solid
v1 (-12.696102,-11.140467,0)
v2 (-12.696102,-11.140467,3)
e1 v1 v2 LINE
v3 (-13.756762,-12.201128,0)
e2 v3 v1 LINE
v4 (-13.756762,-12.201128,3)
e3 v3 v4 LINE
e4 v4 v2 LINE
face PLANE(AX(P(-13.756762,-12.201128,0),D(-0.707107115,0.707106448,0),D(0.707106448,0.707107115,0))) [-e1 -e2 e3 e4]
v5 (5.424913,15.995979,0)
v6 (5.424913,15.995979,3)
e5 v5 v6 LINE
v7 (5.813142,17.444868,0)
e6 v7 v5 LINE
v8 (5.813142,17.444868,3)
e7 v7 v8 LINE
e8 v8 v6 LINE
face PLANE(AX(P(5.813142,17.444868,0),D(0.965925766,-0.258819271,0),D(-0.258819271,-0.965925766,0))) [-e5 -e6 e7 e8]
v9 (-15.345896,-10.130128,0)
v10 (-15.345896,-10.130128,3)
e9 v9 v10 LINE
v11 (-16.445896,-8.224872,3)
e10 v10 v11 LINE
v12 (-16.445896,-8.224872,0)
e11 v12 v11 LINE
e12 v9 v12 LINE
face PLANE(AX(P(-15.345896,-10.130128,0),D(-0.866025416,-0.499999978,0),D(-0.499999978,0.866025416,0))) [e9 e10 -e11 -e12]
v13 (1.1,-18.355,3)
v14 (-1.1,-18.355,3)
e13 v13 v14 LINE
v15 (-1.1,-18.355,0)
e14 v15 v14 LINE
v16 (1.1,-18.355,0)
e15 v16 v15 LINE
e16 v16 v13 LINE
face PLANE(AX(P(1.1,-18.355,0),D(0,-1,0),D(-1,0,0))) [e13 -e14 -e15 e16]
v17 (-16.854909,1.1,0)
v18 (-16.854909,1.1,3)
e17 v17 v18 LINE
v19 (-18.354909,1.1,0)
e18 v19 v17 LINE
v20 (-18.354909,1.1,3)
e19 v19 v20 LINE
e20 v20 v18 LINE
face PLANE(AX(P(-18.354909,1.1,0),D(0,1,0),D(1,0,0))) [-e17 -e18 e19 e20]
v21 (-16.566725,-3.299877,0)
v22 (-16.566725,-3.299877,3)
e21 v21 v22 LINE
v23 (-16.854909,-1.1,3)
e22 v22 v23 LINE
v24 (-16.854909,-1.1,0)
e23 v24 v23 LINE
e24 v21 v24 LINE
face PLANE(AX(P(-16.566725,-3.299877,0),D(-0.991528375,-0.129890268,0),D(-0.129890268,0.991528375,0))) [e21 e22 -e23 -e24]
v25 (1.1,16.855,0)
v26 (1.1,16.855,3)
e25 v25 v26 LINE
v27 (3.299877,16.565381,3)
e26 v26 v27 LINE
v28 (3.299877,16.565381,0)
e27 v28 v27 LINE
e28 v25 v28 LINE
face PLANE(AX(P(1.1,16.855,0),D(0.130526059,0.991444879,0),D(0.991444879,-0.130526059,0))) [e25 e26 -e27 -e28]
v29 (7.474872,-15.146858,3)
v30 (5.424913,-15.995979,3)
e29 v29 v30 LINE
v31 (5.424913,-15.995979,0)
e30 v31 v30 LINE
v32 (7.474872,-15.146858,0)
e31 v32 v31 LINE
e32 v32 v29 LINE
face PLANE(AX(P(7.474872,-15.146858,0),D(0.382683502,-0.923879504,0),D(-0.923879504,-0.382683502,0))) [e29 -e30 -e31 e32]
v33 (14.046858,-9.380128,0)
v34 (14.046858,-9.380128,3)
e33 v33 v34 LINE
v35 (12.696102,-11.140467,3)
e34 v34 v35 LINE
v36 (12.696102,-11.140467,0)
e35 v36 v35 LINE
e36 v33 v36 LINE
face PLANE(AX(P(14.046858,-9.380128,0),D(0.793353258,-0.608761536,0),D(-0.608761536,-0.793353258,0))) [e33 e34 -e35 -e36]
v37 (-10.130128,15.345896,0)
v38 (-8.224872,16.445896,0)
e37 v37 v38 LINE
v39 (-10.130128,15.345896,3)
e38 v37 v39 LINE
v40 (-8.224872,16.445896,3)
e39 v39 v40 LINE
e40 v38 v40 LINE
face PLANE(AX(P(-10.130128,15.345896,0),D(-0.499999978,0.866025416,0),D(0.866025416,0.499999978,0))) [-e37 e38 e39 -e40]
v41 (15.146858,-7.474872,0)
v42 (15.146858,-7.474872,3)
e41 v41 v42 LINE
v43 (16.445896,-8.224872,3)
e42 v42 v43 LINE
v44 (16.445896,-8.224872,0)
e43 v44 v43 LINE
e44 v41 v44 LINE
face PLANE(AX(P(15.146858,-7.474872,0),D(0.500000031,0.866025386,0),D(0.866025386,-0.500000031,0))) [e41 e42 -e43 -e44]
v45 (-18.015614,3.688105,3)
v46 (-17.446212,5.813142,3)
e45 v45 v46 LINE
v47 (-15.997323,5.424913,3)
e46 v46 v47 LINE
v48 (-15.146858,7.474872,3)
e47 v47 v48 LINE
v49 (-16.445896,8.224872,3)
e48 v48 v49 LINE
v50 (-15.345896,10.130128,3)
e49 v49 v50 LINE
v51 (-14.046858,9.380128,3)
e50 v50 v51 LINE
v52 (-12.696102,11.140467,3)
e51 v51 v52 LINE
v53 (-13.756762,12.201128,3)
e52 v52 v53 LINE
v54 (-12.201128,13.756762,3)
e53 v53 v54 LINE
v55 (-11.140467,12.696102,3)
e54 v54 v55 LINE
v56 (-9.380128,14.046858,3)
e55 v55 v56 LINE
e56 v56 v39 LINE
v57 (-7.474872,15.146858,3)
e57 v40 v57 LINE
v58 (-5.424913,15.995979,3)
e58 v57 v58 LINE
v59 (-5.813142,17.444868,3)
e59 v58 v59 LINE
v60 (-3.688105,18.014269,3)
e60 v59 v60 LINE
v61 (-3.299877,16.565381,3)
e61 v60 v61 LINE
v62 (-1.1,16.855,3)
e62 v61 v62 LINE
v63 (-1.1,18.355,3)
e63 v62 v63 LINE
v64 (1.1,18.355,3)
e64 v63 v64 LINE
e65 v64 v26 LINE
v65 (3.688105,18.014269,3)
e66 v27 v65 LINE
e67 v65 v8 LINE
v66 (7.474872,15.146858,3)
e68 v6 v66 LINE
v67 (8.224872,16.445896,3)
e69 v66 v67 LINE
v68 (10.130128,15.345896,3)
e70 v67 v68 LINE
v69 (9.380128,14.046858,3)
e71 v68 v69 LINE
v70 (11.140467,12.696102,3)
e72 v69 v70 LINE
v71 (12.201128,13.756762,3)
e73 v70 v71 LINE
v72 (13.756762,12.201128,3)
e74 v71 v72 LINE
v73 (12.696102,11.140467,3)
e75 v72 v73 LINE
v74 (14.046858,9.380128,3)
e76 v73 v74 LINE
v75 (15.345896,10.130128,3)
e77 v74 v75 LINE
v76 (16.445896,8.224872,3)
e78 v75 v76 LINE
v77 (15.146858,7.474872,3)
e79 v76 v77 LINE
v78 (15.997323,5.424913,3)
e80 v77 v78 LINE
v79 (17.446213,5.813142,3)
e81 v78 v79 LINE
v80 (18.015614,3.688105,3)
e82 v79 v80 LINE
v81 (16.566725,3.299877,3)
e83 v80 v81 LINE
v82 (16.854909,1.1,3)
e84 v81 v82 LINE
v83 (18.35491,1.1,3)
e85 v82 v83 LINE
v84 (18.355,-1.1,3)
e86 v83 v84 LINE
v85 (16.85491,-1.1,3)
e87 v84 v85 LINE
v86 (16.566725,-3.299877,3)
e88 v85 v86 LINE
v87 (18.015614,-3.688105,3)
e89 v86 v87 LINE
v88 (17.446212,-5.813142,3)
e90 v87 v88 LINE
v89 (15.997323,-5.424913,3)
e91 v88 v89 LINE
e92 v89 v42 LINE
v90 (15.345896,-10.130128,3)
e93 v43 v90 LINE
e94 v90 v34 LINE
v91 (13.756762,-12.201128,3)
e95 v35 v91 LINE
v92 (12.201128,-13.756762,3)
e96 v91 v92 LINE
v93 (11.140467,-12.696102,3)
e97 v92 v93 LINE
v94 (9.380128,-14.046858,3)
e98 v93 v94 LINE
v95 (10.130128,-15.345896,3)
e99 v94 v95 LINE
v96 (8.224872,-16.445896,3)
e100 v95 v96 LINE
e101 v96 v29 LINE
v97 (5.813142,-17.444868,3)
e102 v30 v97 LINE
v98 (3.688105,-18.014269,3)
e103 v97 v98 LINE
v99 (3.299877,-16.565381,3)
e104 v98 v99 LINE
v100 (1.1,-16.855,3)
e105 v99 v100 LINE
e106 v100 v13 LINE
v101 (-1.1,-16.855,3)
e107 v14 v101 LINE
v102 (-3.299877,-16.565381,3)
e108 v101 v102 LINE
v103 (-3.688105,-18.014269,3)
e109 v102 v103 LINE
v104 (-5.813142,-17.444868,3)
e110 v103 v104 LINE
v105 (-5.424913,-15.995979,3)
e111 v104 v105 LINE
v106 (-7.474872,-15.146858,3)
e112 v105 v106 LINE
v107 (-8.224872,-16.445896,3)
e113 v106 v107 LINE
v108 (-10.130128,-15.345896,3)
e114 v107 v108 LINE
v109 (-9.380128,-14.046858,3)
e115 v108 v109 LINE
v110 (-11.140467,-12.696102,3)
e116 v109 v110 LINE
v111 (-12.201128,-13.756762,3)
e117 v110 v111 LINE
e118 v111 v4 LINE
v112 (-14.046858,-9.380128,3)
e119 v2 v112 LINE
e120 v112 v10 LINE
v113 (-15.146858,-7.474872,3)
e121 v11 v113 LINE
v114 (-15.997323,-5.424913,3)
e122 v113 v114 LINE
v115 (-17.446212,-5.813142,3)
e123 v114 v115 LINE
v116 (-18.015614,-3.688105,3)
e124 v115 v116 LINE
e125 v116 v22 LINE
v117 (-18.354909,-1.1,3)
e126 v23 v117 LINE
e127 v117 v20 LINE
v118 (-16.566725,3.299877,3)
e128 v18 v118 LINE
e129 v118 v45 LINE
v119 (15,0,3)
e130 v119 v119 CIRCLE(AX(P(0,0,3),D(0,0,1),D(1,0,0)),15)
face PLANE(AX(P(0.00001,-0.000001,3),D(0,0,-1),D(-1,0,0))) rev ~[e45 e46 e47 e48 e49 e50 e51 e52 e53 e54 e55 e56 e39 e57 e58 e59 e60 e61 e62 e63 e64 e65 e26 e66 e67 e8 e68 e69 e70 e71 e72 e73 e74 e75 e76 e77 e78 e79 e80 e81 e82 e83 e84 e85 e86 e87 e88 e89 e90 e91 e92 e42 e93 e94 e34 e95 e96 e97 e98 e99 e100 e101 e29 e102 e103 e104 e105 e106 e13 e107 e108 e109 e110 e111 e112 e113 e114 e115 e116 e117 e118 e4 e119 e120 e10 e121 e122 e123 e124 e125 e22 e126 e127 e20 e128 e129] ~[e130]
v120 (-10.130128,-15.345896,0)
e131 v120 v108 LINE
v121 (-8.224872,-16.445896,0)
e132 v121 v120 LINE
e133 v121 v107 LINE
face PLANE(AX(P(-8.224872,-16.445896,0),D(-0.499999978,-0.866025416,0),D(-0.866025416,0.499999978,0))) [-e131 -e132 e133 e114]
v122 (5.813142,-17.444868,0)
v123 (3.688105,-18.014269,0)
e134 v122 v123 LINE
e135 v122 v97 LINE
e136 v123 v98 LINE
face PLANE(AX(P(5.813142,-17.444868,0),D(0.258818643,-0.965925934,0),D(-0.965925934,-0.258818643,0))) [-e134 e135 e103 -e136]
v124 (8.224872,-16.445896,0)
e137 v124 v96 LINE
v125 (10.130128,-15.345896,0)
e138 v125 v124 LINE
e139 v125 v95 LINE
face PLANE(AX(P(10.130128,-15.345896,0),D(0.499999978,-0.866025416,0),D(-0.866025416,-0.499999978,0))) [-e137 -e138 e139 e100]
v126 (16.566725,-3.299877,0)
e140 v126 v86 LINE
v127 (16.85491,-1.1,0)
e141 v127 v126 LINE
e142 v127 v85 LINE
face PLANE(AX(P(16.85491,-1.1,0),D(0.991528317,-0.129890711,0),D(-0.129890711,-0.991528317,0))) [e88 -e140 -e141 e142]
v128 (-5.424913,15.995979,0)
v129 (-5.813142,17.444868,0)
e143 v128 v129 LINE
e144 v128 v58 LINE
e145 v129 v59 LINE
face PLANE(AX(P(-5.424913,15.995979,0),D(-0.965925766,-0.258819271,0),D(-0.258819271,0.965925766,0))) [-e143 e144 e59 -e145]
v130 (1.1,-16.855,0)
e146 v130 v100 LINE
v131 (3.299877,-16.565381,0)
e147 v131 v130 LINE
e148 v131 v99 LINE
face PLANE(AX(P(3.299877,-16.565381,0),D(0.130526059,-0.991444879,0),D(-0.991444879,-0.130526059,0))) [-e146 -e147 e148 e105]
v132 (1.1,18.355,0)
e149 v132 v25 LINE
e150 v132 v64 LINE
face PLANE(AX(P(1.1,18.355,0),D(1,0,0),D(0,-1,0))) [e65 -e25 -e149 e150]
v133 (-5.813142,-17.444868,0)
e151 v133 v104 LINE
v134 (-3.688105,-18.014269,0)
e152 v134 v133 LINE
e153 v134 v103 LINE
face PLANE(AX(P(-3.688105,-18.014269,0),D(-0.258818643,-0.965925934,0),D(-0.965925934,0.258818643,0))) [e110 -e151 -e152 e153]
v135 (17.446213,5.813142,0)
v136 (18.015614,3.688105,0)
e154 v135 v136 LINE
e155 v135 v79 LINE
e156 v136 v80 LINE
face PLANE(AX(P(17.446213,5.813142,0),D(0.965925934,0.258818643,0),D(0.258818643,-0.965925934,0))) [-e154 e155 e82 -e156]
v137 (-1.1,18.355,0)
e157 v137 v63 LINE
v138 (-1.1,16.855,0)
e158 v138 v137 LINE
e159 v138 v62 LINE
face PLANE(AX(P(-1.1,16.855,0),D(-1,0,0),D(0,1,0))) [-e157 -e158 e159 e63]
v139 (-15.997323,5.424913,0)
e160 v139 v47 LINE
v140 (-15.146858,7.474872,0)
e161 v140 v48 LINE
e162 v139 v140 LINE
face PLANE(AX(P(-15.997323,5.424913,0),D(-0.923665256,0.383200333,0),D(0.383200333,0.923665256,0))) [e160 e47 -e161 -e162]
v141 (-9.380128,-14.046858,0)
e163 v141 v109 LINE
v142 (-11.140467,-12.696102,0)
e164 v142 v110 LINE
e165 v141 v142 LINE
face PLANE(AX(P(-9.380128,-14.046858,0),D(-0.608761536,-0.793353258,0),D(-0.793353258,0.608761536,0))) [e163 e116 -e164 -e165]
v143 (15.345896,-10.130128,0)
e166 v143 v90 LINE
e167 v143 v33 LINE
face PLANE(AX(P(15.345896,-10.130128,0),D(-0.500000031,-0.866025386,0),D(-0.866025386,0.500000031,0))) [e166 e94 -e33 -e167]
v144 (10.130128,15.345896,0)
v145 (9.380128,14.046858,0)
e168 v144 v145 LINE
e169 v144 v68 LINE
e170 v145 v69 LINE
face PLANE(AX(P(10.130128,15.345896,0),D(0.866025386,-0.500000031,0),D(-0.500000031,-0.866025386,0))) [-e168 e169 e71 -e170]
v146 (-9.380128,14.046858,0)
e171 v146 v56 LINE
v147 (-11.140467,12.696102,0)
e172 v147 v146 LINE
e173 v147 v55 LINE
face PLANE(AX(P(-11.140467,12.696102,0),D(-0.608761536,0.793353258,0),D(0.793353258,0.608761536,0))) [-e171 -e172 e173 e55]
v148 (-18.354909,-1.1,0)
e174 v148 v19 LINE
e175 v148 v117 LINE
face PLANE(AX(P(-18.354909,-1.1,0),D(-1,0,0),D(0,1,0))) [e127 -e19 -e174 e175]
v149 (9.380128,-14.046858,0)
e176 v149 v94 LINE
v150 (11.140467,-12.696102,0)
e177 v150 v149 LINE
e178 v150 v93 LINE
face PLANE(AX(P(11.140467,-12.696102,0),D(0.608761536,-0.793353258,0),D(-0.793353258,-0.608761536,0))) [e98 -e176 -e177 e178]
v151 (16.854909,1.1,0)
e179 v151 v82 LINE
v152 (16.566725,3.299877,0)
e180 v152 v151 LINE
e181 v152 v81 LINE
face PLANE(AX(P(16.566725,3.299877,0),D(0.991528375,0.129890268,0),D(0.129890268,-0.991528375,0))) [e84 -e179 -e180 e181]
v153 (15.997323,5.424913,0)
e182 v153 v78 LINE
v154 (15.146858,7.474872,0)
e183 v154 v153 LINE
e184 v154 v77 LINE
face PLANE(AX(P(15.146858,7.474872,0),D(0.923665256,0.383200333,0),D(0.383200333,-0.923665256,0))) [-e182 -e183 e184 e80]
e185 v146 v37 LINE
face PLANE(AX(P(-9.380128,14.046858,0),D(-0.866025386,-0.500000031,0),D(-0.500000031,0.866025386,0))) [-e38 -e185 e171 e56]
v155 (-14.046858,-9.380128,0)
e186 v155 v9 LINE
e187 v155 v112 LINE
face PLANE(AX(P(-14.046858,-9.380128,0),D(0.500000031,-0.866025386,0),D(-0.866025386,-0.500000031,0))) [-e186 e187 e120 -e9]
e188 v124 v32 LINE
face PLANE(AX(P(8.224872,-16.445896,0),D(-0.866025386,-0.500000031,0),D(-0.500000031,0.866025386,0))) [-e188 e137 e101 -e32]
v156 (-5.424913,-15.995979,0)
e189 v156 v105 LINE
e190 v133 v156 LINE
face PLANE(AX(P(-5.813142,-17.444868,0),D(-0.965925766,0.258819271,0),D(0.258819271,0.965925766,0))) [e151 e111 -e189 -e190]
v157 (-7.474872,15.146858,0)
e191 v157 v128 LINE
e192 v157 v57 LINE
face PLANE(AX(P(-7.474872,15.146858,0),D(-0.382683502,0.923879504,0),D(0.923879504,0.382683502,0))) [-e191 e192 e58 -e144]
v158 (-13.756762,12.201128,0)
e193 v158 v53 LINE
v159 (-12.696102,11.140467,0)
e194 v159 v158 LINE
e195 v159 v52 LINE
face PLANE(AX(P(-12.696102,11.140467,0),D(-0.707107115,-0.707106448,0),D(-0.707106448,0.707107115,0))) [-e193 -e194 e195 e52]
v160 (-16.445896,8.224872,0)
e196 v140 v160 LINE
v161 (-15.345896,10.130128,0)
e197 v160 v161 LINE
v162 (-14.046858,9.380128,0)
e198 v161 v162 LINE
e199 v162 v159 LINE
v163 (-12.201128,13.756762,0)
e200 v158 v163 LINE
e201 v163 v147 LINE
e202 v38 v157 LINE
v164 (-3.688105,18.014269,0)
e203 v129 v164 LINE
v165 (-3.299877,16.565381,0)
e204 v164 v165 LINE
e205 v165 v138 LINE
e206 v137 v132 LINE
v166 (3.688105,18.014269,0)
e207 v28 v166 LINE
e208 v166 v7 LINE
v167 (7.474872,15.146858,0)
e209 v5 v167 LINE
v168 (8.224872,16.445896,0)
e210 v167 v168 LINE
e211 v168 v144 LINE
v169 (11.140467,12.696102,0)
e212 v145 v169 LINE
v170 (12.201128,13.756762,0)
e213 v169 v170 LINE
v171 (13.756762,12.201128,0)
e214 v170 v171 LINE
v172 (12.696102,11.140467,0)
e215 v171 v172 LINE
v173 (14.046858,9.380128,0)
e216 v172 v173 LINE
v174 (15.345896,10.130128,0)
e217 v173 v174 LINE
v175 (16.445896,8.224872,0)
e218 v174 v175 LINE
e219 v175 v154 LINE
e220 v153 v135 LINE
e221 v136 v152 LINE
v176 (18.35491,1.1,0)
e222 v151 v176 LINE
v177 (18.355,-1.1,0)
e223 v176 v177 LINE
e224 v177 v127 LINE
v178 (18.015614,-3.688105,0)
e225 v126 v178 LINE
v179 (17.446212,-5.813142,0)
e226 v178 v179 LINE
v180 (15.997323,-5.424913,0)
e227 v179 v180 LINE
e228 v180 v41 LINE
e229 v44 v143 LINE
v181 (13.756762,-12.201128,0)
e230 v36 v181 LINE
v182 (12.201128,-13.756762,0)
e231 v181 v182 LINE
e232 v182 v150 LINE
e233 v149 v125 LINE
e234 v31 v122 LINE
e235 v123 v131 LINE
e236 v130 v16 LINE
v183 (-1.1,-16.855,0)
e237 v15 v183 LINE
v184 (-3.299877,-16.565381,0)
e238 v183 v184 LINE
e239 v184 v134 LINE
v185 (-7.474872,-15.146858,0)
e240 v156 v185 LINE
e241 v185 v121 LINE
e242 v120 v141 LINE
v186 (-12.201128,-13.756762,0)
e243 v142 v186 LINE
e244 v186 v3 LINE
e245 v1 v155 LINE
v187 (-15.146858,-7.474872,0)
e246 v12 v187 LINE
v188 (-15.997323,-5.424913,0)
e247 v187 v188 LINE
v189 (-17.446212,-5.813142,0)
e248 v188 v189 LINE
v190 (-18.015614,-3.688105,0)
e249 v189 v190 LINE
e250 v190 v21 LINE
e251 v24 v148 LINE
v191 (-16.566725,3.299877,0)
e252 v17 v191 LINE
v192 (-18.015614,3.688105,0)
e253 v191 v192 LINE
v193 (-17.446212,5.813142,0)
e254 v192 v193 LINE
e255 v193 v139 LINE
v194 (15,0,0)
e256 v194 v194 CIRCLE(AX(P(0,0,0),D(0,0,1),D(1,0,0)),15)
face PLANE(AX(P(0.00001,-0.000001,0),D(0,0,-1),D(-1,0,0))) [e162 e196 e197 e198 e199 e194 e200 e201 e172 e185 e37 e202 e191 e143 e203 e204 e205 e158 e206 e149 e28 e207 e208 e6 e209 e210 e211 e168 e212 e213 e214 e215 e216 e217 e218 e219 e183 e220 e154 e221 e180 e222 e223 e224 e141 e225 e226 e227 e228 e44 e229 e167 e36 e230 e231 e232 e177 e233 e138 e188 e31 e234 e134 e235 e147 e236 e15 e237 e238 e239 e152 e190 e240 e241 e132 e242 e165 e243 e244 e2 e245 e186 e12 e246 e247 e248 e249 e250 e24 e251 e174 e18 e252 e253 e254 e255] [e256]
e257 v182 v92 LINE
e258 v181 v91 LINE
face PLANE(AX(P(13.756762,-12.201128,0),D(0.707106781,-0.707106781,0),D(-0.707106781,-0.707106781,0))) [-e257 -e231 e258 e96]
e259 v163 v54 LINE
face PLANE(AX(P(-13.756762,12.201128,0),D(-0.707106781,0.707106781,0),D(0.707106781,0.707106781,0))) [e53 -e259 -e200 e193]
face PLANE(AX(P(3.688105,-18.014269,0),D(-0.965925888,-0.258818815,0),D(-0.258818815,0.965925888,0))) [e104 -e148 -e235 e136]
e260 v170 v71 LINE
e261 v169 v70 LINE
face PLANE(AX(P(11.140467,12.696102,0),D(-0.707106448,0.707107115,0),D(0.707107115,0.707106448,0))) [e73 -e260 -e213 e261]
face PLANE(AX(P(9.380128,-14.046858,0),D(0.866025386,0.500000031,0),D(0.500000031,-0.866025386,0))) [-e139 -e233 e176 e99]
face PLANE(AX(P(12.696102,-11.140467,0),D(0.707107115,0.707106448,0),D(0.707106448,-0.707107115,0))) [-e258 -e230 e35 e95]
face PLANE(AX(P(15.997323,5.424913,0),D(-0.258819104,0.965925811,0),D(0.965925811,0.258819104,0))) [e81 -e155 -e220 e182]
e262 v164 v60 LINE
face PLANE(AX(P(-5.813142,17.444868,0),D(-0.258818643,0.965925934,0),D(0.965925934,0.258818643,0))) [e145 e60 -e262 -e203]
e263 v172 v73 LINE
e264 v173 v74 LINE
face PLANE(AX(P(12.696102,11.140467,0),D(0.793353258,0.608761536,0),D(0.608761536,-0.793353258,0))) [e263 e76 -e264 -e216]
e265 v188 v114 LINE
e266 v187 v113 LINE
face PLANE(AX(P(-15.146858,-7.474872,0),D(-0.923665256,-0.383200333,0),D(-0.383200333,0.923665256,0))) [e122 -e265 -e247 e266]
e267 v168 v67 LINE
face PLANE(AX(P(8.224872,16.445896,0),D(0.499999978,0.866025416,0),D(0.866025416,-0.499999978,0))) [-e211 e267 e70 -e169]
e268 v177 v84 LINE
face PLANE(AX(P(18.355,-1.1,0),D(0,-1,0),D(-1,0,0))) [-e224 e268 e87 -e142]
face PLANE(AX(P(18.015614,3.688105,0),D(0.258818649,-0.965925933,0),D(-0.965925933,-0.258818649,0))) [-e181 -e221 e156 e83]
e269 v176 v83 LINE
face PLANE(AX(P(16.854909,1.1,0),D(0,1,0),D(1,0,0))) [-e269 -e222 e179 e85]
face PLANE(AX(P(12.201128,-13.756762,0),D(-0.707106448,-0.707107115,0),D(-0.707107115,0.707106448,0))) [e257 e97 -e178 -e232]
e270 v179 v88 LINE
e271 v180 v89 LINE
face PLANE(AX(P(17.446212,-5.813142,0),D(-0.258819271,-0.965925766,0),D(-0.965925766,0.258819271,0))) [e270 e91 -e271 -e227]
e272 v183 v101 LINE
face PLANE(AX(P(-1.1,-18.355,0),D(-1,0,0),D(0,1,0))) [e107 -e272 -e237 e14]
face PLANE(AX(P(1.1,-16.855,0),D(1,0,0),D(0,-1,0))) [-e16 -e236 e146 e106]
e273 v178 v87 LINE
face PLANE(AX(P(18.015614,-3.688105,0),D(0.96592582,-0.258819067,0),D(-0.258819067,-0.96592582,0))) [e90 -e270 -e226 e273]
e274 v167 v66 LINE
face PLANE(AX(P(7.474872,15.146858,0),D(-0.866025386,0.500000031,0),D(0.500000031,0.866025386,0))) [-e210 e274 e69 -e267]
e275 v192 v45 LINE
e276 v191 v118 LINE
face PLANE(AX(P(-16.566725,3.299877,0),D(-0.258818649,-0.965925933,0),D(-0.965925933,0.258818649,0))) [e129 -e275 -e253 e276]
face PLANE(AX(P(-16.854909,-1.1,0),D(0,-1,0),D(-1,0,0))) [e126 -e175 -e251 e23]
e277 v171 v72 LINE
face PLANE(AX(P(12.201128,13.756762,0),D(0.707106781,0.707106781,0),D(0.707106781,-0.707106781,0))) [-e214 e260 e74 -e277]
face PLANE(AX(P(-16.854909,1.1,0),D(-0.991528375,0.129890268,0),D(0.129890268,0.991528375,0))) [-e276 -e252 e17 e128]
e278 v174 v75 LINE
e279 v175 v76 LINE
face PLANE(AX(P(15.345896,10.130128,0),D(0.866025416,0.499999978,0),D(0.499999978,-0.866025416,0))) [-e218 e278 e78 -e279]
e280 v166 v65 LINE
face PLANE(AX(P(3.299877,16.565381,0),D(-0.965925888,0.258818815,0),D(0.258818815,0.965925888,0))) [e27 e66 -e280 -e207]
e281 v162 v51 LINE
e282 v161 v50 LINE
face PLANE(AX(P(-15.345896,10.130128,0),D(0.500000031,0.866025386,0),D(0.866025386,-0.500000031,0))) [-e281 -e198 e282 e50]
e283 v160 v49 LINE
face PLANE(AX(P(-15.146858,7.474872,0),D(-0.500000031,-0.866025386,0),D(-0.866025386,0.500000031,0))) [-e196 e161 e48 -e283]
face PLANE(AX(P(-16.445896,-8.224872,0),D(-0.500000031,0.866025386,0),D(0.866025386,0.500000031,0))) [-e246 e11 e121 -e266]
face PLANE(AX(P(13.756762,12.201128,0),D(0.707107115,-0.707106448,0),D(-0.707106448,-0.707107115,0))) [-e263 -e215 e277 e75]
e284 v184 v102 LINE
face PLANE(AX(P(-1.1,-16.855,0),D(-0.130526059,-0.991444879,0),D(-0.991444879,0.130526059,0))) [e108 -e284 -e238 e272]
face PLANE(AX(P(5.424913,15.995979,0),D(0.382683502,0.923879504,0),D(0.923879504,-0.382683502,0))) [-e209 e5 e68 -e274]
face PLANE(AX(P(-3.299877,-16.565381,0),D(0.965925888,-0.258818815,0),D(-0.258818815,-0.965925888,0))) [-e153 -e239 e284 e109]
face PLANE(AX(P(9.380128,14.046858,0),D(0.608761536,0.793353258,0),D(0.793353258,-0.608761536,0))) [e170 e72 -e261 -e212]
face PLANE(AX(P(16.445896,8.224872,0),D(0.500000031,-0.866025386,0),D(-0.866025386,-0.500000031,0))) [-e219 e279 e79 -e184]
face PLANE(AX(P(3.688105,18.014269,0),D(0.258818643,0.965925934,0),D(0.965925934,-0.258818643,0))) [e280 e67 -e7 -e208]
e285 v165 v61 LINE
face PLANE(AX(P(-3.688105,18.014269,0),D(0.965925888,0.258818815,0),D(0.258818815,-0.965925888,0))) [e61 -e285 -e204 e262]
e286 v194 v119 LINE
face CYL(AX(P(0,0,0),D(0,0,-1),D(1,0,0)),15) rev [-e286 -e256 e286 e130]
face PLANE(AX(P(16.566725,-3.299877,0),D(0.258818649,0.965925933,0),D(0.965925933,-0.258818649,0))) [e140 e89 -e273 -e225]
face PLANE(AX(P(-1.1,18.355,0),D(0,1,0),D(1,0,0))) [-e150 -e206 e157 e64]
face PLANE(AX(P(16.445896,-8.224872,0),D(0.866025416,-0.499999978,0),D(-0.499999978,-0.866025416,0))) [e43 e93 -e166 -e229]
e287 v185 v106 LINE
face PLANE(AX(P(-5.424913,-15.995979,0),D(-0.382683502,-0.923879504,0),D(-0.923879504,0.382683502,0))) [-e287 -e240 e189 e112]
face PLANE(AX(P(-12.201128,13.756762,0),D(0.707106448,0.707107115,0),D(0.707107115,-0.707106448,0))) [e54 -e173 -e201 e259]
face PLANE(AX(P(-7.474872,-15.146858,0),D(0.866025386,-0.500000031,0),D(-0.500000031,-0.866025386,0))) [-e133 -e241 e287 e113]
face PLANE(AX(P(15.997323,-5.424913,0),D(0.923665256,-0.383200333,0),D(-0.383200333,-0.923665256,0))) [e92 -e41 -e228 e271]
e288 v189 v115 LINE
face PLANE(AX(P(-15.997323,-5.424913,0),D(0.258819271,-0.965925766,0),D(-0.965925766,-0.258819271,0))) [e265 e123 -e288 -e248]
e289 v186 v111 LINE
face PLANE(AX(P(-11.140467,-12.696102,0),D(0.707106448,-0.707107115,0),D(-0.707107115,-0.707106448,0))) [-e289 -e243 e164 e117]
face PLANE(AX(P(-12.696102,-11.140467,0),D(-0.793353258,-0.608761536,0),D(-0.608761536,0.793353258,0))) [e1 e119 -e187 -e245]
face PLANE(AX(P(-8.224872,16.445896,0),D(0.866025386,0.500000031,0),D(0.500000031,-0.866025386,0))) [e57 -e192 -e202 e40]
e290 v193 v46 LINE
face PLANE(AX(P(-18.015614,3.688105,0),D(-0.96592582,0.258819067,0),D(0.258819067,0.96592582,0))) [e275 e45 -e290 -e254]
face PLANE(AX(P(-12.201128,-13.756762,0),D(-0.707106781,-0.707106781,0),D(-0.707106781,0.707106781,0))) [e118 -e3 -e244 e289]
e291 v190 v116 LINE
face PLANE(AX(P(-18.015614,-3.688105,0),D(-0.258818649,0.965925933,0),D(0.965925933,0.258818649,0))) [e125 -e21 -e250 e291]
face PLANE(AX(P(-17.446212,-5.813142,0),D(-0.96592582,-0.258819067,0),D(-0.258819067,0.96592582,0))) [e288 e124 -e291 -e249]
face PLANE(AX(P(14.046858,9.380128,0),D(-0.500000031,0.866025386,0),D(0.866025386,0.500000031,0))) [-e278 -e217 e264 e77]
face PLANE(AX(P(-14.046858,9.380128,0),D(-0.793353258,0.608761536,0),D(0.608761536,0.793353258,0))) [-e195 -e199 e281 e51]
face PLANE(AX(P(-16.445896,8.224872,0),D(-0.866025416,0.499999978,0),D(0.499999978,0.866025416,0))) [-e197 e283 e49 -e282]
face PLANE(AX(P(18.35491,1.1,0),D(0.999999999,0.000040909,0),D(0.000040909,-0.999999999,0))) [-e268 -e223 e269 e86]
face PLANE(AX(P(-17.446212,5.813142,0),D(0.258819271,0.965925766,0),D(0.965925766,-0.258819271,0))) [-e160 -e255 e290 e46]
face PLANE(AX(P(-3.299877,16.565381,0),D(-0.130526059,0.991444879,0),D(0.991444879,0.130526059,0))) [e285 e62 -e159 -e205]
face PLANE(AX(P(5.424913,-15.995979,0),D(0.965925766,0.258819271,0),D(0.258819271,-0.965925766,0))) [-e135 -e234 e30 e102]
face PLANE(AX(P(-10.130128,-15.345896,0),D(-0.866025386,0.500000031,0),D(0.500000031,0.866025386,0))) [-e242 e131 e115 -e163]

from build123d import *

# Parameters (mm, degrees)
SKETCH_R  = 15
PAD_DEPTH = 3


with BuildPart() as part:
    # Sketch → Pad (new body)
    with BuildSketch(Plane.XY):
        Polygon((-15.146858, 7.474872), (-16.445896, 8.224872), (-15.345896, 10.130128), (-14.046858, 9.380128), (-12.696102, 11.140467), (-13.756762, 12.201128), (-12.201128, 13.756762), (-11.140467, 12.696102), (-9.380128, 14.046858), (-10.130128, 15.345896), (-8.224872, 16.445896), (-7.474872, 15.146858), (-5.424913, 15.995979), (-5.813142, 17.444868), (-3.688105, 18.014269), (-3.299877, 16.565381), (-1.1, 16.855), (-1.1, 18.355), (1.1, 18.355), (1.1, 16.855), (3.299877, 16.565381), (3.688105, 18.014269), (5.813142, 17.444868), (5.424913, 15.995979), (7.474872, 15.146858), (8.224872, 16.445896), (10.130128, 15.345896), (9.380128, 14.046858), (11.140467, 12.696102), (12.201128, 13.756762), (13.756762, 12.201128), (12.696102, 11.140467), (14.046858, 9.380128), (15.345896, 10.130128), (16.445896, 8.224872), (15.146858, 7.474872), (15.997323, 5.424913), (17.446213, 5.813142), (18.015614, 3.688105), (16.566725, 3.299877), (16.854909, 1.1), (18.35491, 1.1), (18.355, -1.1), (16.85491, -1.1), (16.566725, -3.299877), (18.015614, -3.688105), (17.446212, -5.813142), (15.997323, -5.424913), (15.146858, -7.474872), (16.445896, -8.224872), (15.345896, -10.130128), (14.046858, -9.380128), (12.696102, -11.140467), (13.756762, -12.201128), (12.201128, -13.756762), (11.140467, -12.696102), (9.380128, -14.046858), (10.130128, -15.345896), (8.224872, -16.445896), (7.474872, -15.146858), (5.424913, -15.995979), (5.813142, -17.444868), (3.688105, -18.014269), (3.299877, -16.565381), (1.1, -16.855), (1.1, -18.355), (-1.1, -18.355), (-1.1, -16.855), (-3.299877, -16.565381), (-3.688105, -18.014269), (-5.813142, -17.444868), (-5.424913, -15.995979), (-7.474872, -15.146858), (-8.224872, -16.445896), (-10.130128, -15.345896), (-9.380128, -14.046858), (-11.140467, -12.696102), (-12.201128, -13.756762), (-13.756762, -12.201128), (-12.696102, -11.140467), (-14.046858, -9.380128), (-15.345896, -10.130128), (-16.445896, -8.224872), (-15.146858, -7.474872), (-15.997323, -5.424913), (-17.446212, -5.813142), (-18.015614, -3.688105), (-16.566725, -3.299877), (-16.854909, -1.1), (-18.354909, -1.1), (-18.354909, 1.1), (-16.854909, 1.1), (-16.566725, 3.299877), (-18.015614, 3.688105), (-17.446212, 5.813142), (-15.997323, 5.424913), align=None)
        Circle(SKETCH_R, mode=Mode.SUBTRACT)
    extrude(amount=PAD_DEPTH)


solid = part.part
